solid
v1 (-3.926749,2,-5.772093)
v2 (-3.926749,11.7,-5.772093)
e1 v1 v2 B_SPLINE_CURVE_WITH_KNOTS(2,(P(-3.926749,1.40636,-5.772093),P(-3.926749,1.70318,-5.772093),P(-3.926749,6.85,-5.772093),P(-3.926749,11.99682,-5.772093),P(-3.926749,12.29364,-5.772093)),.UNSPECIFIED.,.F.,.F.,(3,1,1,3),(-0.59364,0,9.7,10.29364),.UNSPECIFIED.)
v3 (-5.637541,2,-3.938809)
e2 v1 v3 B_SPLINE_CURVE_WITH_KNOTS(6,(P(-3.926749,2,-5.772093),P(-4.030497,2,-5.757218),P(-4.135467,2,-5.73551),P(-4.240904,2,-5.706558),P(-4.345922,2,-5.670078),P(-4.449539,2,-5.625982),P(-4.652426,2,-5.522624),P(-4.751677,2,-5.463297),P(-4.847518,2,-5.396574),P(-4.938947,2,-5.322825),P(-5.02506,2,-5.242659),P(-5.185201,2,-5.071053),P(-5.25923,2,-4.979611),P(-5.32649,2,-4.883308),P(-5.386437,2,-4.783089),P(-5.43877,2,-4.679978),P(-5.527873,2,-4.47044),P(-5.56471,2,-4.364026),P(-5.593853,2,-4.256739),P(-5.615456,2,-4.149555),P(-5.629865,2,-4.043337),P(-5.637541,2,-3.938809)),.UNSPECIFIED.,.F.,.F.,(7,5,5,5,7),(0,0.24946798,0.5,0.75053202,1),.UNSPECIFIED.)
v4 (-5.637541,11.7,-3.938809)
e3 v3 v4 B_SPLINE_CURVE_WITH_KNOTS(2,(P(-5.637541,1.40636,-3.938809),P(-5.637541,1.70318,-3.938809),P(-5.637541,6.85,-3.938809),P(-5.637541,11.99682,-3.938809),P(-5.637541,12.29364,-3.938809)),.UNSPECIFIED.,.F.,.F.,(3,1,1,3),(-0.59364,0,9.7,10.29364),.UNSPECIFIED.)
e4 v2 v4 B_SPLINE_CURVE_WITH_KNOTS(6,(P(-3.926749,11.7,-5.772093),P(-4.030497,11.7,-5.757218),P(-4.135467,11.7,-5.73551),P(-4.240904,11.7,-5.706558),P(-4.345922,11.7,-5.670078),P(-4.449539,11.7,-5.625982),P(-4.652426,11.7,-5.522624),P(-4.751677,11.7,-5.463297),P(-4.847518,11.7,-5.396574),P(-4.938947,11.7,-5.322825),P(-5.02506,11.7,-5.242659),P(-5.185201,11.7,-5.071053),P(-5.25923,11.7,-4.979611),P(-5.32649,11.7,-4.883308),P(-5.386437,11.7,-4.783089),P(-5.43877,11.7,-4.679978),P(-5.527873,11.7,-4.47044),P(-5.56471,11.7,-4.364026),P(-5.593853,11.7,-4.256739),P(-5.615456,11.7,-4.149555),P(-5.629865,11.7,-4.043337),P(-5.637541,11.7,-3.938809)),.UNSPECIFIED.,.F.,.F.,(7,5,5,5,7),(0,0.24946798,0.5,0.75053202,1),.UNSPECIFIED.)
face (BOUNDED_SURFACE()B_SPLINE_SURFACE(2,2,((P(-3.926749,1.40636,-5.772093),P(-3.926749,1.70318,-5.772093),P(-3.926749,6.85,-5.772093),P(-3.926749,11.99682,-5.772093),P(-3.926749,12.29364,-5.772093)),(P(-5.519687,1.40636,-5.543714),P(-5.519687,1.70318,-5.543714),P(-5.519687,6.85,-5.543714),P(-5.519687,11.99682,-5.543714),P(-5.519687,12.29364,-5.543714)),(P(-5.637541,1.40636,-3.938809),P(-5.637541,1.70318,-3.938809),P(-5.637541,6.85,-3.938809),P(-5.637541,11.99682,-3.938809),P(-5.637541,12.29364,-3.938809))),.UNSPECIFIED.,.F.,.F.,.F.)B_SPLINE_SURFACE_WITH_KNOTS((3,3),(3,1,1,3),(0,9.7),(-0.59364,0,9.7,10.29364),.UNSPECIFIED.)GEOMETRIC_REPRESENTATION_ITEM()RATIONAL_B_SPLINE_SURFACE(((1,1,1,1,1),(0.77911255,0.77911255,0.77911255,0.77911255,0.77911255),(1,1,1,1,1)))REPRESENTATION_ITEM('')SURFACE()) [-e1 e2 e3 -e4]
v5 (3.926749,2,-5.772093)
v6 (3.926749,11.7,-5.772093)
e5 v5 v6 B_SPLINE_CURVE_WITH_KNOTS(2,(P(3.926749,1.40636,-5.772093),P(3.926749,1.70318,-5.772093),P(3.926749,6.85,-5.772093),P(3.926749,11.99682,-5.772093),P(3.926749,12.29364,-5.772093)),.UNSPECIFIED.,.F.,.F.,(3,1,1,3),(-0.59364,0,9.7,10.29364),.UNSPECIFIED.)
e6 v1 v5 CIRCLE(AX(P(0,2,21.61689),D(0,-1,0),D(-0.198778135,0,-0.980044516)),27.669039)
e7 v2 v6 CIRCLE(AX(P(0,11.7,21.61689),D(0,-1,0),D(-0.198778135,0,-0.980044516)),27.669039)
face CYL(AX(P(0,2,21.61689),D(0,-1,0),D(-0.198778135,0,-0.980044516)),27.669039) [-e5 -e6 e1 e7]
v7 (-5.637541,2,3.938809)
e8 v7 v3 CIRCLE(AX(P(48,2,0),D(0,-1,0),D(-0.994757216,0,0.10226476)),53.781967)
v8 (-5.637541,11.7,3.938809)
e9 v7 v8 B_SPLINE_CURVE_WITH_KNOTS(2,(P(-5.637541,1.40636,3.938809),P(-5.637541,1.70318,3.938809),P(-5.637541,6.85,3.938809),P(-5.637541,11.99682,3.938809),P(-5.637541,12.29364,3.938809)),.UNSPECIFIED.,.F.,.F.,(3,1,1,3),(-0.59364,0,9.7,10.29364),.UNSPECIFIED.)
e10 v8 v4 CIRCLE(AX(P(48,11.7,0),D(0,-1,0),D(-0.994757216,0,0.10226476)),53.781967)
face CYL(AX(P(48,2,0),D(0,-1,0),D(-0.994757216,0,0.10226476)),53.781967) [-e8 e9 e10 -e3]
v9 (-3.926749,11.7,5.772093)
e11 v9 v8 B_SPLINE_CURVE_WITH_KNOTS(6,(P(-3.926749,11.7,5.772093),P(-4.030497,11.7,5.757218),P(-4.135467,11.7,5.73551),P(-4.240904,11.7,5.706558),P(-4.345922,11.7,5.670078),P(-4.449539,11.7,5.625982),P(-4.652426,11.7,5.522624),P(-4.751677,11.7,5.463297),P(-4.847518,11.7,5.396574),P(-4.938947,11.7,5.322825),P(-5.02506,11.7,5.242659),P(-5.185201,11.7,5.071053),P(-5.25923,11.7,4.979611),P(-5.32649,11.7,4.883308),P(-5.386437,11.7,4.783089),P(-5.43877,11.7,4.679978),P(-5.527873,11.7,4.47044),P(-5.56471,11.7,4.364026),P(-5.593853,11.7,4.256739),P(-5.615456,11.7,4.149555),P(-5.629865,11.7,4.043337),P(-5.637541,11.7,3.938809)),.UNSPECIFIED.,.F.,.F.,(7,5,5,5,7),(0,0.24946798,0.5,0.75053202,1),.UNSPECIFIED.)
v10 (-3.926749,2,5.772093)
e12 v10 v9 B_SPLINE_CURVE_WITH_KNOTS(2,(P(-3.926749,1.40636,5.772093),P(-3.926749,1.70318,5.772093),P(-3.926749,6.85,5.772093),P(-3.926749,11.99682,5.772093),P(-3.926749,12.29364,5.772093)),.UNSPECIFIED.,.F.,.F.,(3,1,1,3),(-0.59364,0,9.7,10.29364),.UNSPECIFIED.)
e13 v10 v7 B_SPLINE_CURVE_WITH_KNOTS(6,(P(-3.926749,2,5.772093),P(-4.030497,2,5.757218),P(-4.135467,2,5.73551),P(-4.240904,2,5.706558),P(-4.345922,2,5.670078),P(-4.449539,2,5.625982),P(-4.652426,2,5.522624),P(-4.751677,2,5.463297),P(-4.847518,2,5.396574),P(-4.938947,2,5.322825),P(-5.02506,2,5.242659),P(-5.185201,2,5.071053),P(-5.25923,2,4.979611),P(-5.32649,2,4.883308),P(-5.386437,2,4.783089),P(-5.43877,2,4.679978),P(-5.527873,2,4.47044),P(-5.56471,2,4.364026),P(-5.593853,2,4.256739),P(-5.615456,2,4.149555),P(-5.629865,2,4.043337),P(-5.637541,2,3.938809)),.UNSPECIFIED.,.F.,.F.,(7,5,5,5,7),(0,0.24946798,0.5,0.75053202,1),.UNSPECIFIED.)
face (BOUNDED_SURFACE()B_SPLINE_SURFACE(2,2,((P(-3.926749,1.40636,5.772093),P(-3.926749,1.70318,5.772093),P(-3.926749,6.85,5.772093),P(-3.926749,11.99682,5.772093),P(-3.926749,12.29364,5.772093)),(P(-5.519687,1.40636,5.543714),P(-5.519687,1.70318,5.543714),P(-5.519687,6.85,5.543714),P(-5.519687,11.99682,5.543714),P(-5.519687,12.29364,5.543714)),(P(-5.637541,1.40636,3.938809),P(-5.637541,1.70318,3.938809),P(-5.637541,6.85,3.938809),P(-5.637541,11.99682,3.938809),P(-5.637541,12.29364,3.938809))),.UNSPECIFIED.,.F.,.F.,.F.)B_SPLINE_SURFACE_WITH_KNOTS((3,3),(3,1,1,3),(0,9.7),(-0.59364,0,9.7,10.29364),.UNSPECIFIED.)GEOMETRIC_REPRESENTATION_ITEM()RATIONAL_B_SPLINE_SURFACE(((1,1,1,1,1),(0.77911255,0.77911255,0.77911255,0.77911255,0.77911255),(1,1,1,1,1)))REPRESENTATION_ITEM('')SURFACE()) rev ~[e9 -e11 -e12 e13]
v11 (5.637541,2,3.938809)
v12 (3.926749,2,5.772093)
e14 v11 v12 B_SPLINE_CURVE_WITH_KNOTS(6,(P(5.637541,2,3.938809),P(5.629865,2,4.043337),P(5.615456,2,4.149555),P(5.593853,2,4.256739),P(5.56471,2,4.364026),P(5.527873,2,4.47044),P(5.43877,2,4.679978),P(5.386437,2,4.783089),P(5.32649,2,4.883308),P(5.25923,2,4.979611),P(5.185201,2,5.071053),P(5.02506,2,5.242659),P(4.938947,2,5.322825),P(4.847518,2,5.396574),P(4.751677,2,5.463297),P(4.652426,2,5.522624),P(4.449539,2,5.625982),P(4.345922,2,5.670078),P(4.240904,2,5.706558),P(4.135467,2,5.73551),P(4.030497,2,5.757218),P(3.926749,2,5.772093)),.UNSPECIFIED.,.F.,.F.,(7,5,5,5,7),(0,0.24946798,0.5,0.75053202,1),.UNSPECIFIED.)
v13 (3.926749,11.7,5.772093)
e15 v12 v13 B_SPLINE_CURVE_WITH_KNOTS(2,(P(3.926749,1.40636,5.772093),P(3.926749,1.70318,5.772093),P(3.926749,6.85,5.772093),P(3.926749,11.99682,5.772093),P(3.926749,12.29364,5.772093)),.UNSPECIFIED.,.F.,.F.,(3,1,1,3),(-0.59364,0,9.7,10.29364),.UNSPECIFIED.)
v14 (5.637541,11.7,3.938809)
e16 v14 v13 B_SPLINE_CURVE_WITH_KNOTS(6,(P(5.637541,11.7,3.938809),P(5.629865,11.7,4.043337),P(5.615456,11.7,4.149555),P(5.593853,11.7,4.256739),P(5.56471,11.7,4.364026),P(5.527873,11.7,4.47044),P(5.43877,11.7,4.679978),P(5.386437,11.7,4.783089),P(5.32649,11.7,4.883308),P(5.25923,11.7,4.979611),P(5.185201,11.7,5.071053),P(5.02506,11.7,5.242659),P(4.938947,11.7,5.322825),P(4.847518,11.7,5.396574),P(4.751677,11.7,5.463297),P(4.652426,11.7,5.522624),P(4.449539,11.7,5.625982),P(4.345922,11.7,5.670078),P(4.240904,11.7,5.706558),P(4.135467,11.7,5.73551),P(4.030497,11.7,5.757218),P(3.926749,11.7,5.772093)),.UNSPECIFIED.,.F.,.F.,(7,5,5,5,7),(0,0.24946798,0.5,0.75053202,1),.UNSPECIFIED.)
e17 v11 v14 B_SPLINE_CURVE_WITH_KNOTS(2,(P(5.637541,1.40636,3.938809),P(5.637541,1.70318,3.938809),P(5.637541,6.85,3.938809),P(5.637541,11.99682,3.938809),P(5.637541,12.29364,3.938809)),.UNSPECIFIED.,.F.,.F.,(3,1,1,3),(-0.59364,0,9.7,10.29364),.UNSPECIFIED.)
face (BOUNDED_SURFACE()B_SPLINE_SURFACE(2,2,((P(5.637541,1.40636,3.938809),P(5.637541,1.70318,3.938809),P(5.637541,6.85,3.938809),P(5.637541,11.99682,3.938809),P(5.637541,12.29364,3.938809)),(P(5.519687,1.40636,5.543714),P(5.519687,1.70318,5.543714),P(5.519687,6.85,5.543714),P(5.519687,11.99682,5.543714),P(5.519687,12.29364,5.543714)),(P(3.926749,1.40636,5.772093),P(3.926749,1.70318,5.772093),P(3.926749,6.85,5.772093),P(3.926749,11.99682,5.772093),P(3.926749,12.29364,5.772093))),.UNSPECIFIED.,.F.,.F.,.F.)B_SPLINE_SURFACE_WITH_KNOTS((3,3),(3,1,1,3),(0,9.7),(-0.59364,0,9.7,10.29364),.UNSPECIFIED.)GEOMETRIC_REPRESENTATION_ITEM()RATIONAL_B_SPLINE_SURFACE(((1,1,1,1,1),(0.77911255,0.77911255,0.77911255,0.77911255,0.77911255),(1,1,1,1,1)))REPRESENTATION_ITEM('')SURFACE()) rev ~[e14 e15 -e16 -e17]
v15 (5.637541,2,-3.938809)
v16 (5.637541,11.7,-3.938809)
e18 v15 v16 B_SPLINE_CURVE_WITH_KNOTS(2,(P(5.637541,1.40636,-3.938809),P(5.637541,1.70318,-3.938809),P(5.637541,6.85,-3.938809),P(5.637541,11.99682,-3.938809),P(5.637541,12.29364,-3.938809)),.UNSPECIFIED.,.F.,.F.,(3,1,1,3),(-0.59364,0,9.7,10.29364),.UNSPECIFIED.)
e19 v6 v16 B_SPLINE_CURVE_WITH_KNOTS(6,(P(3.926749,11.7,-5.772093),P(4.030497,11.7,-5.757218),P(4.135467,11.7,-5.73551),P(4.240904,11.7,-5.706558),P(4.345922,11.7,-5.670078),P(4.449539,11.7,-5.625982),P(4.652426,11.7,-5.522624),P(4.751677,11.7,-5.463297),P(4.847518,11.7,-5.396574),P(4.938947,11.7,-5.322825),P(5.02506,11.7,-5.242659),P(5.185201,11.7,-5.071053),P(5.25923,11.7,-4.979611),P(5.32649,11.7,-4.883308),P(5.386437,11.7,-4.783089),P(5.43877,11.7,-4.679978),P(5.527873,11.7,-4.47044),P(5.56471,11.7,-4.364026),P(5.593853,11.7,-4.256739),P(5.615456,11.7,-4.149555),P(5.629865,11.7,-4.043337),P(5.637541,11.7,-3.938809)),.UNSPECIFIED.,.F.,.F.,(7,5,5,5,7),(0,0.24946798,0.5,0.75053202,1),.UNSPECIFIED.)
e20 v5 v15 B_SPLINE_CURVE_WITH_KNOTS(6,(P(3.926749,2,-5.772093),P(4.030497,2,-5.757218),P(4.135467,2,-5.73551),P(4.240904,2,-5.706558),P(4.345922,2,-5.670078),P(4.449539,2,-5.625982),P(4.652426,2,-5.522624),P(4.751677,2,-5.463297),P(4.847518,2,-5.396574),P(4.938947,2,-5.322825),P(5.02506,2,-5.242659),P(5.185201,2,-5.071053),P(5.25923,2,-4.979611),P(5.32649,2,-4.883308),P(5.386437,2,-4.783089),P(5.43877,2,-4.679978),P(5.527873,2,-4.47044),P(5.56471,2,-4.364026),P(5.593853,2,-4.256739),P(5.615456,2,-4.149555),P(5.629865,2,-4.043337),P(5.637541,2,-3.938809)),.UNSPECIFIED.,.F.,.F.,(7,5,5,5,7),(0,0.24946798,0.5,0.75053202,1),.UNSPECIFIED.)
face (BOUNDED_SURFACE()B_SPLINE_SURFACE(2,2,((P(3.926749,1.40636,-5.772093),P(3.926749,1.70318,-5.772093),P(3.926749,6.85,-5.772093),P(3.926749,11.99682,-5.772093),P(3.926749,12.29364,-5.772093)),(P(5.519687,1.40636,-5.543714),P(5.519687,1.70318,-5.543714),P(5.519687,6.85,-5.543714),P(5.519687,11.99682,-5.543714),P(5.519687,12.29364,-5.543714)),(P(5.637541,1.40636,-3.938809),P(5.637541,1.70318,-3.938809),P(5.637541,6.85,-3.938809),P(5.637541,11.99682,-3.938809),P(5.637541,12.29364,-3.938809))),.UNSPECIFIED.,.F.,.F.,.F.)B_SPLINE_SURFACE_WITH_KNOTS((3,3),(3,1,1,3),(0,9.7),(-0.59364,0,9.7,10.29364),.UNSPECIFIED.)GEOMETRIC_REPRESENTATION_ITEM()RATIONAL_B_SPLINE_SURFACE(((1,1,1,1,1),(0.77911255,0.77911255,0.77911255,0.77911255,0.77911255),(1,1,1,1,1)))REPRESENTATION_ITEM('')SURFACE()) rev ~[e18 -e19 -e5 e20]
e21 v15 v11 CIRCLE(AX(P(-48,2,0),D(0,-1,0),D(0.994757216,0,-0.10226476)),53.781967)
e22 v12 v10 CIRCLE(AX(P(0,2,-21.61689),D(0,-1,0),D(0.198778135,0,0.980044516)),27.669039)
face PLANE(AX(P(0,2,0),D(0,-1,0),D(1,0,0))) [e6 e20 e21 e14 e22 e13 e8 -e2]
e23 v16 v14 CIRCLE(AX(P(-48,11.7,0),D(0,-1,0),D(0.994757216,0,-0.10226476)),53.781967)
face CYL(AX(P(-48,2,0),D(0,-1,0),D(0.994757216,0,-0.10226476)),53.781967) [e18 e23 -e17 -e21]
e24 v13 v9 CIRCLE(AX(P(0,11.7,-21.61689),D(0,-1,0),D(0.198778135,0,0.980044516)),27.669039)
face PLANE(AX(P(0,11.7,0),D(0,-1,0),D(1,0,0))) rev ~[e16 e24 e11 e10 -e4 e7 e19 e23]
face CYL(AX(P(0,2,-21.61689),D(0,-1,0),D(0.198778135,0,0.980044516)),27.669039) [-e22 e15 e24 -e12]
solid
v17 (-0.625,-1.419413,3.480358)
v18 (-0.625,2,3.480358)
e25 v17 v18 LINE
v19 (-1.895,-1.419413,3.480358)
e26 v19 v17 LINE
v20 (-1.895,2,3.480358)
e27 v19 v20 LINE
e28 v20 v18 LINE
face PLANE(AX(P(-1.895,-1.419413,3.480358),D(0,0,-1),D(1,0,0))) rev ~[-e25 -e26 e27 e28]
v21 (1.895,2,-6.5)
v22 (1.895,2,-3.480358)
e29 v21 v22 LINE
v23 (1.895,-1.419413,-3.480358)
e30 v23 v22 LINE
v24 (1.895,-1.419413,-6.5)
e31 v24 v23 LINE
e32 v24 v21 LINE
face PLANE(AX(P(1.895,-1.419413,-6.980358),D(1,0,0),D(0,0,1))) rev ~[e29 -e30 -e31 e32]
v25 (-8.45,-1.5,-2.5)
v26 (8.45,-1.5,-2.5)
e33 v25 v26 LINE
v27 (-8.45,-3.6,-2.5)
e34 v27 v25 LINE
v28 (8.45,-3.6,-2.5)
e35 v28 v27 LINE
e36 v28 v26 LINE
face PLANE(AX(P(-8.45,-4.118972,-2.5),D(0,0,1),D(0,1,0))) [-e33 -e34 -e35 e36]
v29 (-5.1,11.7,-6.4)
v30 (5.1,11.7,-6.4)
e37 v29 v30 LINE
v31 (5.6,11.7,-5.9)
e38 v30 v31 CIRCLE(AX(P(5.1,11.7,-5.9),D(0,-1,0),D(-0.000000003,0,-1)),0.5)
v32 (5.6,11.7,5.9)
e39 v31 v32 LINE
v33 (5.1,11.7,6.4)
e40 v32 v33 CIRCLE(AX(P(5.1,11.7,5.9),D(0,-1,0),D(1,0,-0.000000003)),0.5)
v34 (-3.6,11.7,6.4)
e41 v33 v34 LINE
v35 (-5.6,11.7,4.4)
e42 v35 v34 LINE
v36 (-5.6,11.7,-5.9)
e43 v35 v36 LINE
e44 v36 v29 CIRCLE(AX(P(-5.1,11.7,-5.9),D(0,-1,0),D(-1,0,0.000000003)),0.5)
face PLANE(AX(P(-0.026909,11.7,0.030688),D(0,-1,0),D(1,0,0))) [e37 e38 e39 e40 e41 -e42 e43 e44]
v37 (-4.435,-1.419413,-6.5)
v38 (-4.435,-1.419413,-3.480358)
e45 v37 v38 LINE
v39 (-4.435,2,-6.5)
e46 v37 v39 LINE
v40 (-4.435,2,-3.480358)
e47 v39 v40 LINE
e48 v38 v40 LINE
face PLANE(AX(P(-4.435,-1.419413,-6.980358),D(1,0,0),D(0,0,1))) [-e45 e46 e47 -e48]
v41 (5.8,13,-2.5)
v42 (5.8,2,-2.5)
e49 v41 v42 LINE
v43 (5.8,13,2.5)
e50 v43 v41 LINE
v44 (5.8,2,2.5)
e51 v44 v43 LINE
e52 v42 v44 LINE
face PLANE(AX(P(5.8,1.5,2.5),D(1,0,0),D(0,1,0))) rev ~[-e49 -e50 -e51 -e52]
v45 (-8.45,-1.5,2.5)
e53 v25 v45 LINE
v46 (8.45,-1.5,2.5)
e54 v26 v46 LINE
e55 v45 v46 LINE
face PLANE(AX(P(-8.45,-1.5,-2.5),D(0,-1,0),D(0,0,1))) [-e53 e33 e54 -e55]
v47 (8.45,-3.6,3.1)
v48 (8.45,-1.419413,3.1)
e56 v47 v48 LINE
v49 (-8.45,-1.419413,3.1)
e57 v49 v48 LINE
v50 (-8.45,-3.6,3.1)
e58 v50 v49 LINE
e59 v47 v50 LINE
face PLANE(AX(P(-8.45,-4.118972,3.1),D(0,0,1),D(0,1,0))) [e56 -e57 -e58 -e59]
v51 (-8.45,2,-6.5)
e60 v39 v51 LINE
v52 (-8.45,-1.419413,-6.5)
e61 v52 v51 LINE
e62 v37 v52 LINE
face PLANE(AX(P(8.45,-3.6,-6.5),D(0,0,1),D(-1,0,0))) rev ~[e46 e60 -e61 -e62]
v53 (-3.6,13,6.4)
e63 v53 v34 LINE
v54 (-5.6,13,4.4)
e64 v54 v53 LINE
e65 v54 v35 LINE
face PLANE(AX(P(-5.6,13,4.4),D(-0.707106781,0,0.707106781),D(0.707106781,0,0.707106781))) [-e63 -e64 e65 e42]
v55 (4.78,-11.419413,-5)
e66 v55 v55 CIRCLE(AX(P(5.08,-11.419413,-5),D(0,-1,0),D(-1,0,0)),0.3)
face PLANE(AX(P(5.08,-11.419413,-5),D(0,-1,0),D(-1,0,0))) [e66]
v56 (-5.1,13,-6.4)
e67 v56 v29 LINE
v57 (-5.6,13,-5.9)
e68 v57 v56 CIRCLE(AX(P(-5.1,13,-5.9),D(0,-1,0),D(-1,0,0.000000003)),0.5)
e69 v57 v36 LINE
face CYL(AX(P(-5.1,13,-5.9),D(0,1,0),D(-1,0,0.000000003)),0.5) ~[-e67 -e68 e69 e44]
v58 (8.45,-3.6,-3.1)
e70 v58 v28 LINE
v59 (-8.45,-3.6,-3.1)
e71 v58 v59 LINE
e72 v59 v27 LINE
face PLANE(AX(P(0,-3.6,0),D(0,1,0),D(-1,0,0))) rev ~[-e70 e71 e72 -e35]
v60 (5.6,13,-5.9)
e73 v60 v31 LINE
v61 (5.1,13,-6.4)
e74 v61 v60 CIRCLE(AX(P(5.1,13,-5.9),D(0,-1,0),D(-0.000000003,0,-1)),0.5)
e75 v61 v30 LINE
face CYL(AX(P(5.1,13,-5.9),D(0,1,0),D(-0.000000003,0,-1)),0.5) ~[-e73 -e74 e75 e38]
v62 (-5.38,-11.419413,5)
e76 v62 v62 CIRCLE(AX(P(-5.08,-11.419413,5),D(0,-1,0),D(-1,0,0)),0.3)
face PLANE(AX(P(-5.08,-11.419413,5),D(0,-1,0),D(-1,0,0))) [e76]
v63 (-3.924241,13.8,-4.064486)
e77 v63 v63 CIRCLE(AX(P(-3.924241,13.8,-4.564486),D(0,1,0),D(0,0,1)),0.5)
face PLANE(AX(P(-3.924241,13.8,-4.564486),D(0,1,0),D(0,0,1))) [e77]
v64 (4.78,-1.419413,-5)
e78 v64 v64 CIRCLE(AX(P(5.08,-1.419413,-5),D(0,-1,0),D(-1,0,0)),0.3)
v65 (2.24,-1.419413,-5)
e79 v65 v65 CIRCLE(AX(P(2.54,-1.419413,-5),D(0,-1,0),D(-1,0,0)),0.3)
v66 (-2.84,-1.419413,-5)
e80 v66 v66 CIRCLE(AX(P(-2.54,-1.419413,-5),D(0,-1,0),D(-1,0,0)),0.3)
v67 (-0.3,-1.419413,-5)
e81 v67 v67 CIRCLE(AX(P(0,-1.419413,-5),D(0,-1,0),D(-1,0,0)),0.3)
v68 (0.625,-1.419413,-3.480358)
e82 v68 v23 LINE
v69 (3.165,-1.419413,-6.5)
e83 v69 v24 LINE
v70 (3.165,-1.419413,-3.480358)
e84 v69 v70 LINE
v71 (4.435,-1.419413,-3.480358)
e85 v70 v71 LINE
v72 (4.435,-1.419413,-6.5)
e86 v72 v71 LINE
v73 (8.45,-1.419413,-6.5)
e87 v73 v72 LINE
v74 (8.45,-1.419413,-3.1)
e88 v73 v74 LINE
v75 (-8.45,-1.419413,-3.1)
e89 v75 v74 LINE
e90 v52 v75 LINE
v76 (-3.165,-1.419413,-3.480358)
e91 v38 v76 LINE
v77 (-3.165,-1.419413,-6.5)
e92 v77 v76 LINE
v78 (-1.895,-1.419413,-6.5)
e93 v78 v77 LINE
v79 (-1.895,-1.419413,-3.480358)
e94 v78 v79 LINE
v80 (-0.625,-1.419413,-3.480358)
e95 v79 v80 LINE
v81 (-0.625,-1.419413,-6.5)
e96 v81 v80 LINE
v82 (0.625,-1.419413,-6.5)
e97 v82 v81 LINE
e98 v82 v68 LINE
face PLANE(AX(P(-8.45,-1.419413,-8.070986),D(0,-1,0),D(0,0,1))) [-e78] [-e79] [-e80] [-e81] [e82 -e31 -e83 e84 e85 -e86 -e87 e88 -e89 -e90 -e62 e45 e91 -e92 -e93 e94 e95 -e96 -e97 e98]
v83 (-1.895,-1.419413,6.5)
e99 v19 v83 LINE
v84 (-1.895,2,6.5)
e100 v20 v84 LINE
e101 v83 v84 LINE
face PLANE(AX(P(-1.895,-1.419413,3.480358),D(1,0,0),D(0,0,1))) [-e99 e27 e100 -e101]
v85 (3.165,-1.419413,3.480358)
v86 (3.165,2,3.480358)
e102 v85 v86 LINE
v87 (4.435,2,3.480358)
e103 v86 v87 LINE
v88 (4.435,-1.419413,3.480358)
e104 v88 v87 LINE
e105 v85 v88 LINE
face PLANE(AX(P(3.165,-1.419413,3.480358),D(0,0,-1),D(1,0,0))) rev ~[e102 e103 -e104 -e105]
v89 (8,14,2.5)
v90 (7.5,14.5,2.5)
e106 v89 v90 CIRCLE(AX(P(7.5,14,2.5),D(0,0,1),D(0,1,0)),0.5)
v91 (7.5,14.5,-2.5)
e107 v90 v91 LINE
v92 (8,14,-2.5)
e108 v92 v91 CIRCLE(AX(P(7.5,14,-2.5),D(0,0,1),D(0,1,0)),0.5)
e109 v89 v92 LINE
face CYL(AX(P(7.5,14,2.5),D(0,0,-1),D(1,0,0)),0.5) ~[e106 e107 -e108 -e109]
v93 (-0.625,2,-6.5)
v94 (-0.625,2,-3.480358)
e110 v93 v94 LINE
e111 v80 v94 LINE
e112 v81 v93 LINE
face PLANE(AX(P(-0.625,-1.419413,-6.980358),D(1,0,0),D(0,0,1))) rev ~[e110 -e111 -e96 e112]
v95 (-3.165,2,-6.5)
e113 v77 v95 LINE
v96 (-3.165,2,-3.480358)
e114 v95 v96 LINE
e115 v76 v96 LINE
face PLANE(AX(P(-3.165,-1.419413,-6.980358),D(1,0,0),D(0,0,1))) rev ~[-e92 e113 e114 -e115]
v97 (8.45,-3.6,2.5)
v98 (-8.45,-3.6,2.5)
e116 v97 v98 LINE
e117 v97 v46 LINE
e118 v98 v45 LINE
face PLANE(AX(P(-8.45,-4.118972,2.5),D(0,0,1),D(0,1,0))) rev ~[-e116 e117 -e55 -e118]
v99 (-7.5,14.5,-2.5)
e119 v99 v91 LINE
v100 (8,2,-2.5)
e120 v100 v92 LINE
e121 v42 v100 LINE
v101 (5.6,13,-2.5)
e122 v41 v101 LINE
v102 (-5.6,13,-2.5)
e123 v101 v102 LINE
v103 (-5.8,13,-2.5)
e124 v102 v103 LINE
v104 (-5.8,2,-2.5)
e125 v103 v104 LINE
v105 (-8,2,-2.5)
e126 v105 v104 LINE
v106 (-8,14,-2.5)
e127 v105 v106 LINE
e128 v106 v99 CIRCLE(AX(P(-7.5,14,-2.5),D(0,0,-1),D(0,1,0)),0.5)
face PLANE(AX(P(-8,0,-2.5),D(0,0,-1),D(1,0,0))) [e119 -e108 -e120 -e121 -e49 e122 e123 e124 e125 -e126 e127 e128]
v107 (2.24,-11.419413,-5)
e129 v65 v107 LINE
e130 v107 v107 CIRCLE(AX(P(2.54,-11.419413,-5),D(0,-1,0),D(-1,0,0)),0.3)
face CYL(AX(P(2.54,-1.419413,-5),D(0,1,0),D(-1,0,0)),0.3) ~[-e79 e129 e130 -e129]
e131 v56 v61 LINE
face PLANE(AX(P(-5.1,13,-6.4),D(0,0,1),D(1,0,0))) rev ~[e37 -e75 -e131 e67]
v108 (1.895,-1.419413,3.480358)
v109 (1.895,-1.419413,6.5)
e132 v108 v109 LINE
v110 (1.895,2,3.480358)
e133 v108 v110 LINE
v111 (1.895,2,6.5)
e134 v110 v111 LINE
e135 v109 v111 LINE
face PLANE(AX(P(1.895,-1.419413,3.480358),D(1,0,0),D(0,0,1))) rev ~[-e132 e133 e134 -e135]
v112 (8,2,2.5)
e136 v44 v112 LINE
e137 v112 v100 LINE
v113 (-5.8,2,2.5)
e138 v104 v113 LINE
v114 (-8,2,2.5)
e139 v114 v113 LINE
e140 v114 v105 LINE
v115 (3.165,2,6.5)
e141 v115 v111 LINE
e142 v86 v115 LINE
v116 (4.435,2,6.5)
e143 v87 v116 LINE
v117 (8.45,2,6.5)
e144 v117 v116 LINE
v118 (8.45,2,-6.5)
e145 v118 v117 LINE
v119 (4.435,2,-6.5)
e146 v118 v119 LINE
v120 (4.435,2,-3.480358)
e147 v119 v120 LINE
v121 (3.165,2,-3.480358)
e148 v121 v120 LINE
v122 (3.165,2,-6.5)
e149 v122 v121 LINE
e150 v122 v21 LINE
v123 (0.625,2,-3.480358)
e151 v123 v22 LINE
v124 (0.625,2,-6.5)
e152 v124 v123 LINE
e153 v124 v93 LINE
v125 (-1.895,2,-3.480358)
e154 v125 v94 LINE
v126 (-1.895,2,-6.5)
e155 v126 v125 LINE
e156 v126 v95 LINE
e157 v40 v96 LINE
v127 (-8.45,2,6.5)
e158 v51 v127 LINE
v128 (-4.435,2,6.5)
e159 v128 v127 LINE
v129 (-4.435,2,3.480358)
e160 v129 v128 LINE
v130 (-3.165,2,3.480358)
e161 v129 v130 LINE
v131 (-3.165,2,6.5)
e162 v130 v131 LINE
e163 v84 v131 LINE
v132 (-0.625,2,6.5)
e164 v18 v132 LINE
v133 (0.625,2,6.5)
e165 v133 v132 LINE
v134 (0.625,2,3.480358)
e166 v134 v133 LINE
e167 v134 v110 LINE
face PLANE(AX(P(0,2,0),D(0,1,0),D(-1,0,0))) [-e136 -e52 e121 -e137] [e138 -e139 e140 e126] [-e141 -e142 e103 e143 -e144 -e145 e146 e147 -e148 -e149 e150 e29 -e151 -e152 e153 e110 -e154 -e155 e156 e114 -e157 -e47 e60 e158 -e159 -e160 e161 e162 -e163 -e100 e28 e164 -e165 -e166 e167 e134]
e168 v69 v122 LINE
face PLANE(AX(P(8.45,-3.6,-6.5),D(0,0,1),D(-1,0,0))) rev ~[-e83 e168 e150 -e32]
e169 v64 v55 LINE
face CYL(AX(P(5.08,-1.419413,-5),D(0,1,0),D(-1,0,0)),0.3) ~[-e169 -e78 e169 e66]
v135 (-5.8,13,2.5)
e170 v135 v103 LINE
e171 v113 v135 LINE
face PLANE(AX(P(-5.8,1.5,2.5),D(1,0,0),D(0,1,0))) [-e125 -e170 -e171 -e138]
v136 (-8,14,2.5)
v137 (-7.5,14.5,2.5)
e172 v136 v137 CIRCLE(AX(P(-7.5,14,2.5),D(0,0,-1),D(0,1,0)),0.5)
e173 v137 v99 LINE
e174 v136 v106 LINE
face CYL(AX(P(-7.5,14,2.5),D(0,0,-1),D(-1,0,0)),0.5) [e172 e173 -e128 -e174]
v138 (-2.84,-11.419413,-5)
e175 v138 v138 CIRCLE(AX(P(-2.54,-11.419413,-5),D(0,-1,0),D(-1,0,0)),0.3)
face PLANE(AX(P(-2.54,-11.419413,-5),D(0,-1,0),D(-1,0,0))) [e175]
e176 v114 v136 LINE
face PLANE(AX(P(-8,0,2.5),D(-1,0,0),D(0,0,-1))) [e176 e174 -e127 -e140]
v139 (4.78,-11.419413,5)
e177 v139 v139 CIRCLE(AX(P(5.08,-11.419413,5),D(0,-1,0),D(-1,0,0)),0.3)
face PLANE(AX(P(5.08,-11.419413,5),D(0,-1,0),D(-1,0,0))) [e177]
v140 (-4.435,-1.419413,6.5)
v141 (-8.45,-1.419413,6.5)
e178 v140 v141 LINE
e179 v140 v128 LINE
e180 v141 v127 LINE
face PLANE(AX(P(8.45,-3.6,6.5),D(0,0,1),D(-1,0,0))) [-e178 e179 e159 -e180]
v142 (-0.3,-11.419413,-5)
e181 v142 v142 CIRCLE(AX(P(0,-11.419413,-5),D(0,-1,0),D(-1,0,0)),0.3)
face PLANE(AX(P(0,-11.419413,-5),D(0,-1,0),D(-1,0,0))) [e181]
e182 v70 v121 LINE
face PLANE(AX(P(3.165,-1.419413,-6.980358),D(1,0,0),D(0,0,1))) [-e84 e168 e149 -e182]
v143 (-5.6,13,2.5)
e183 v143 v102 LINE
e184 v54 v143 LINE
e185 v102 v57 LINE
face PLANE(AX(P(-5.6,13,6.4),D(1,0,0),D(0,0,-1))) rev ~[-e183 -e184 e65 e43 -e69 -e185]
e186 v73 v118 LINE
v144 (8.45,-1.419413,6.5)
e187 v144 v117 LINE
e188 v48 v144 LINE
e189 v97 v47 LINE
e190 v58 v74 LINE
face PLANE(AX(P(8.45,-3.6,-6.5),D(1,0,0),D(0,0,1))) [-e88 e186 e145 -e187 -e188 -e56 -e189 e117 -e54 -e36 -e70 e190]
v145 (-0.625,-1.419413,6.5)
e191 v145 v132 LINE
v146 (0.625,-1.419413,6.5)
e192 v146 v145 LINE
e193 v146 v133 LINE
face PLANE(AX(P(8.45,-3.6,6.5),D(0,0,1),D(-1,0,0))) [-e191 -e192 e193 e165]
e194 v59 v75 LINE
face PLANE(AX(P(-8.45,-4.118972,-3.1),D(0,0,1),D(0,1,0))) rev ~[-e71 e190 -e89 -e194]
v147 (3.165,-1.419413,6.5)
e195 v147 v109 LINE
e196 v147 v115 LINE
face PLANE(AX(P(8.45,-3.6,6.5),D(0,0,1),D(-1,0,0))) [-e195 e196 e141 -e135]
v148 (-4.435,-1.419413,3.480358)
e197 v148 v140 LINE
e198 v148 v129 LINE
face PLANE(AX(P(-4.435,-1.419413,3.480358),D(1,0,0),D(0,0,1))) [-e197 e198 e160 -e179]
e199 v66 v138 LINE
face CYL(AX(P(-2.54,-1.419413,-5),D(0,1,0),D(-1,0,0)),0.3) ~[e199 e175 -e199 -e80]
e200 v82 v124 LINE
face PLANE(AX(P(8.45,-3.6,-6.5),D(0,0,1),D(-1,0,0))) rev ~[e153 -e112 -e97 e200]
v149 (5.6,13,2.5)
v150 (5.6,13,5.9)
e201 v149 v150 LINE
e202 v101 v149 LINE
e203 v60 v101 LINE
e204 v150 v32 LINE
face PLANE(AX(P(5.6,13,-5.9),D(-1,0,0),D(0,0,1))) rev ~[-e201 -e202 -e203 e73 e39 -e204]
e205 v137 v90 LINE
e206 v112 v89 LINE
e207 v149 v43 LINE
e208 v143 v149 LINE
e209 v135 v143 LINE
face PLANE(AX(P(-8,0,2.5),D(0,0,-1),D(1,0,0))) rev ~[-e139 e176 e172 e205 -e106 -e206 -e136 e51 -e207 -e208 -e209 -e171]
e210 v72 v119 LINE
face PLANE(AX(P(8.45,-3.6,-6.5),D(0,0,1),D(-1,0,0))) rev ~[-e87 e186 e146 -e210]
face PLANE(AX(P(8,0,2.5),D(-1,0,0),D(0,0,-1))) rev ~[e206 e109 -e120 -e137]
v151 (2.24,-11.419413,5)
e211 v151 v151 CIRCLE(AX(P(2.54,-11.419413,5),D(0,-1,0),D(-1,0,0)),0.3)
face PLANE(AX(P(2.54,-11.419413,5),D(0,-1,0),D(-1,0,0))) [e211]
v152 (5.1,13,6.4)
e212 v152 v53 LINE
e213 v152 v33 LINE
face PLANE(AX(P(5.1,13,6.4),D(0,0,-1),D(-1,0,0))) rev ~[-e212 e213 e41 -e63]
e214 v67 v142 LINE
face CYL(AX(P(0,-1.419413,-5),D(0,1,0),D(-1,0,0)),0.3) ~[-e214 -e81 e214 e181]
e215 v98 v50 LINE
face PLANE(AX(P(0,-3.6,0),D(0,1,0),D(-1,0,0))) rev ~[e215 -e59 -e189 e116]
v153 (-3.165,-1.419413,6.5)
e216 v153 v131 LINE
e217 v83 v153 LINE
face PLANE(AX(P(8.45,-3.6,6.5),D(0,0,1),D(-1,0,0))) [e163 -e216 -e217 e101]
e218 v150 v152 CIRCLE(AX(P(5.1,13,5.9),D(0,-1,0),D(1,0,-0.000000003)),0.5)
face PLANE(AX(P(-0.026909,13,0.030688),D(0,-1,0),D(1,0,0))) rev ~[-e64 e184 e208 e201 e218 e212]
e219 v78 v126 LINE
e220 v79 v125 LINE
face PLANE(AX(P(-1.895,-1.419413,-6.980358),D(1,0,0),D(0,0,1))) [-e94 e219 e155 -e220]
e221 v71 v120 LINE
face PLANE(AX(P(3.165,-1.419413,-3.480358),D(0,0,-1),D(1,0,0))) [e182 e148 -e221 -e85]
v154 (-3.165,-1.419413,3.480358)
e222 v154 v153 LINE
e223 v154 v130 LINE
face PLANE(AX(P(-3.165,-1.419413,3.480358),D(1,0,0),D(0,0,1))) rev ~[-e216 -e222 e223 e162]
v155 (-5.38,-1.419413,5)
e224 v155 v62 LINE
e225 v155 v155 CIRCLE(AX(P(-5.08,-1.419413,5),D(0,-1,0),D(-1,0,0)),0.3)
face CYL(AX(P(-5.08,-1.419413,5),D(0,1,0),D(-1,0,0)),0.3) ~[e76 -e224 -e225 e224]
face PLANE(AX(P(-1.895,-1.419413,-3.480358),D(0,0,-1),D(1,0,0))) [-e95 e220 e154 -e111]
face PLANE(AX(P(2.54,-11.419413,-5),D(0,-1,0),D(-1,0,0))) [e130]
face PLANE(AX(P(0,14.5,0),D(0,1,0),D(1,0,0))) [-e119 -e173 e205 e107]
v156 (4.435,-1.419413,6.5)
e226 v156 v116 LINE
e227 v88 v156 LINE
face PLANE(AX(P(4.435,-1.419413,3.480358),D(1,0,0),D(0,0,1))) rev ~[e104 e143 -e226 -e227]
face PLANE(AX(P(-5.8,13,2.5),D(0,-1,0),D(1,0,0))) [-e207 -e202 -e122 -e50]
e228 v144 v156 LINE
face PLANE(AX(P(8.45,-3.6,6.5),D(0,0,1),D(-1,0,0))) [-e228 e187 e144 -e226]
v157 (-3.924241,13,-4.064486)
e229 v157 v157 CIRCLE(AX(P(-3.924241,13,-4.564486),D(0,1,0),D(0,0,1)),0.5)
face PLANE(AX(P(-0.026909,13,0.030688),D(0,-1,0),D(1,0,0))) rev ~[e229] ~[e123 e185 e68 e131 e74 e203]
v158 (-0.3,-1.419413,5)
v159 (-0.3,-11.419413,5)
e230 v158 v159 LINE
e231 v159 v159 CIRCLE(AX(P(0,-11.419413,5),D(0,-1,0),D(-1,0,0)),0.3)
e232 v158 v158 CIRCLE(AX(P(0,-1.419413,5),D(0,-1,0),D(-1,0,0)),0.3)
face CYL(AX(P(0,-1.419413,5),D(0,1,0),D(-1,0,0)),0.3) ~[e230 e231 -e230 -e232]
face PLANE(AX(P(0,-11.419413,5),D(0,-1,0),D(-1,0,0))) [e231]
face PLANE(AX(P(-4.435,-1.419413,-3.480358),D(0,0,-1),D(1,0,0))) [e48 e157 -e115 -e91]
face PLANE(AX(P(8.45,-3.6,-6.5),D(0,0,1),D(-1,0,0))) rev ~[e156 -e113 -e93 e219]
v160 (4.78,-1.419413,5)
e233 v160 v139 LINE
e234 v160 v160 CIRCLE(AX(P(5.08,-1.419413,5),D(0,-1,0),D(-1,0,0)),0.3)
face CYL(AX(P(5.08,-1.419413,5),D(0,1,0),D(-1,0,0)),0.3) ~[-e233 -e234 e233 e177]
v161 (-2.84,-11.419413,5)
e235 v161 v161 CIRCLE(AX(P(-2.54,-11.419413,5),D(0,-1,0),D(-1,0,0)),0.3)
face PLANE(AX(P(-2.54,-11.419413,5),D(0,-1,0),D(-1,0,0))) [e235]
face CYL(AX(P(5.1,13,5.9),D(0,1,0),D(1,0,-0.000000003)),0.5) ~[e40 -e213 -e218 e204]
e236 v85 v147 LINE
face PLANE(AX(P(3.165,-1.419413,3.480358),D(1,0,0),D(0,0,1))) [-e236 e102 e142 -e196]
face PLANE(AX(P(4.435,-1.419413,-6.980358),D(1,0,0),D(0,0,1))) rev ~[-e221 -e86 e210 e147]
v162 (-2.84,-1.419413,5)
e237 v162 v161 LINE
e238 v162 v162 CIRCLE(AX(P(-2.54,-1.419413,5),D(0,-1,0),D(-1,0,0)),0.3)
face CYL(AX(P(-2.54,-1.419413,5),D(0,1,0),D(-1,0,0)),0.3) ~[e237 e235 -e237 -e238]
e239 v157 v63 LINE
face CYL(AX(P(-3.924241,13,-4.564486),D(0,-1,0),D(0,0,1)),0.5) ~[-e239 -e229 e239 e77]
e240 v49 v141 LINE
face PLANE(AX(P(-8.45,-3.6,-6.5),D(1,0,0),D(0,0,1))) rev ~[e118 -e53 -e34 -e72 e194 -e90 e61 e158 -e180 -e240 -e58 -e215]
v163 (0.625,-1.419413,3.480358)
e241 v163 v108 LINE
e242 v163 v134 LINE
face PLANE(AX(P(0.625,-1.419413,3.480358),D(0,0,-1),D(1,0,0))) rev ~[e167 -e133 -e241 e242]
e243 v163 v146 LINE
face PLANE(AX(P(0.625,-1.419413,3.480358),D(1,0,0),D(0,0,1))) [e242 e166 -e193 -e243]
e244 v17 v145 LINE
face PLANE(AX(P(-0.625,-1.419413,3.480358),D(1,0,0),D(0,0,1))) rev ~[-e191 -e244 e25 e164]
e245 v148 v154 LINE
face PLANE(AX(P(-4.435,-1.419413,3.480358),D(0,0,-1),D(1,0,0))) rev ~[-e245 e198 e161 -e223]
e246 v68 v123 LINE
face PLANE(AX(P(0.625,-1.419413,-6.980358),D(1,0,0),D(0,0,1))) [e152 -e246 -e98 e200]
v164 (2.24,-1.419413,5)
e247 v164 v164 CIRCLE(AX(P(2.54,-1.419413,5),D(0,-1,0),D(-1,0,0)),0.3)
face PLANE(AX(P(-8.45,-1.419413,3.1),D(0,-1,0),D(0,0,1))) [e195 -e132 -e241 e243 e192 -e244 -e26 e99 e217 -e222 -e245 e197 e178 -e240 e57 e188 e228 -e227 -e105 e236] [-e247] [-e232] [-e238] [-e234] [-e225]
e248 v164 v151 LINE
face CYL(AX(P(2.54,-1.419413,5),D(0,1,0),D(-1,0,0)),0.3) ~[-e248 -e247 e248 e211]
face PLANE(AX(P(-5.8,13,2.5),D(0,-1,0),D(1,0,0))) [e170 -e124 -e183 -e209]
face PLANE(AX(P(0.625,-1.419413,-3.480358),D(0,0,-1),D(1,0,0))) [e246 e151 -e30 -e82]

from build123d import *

# Parameters (mm, degrees)
SKETCH_2_W              = 16
SKETCH_2_H              = 5
EXTRUDE_1_DEPTH         = 14.5
SKETCH_3_W              = 11.6
SKETCH_3_H              = 11.5
CUT_EXTRUDE_2_DEPTH     = 18.298843892
EXTRUDE_3_DEPTH         = 1.3
EXTRUDE_7_DEPTH         = 0.5
EXTRUDE_7_DEPTH_BACK    = 5.1
SKETCH_6_W              = 16.9
SKETCH_6_H              = 13
CORTAR_EXTRUIR1_REACH   = 25.197
CROQUIS1_W              = 5
CROQUIS1_H              = 2.618972118
CROQUIS1_W_2            = 4.180401644
CROQUIS1_H_2            = 2.699558885
CROQUIS1_W_3            = 4.970986267
CUT_EXTRUDE_10_REACH    = 21.728
EXTRUDE_19_DEPTH        = 9.7
FILLET_1_R              = 2
REDONDEO1_R             = 0.5
SKETCH_19_R             = 0.5
EXTRUDE_20_DEPTH        = 0.8
CROQUIS2_W              = 1.27
CROQUIS2_H              = 3.5
CORTAR_EXTRUIR2_DEPTH   = 3.419413
CROQUIS3_R              = 0.3
SALIENTE_EXTRUIR1_DEPTH = 10


with BuildPart() as part:
    # Эскиз2 → Вытянуть1 (new body)
    with BuildSketch(Plane(origin=(0, 0, 0), x_dir=(1, 0, 0), z_dir=(0, 1, 0))):
        Rectangle(SKETCH_2_W, SKETCH_2_H)
    extrude(amount=EXTRUDE_1_DEPTH)

    # Эскиз3 → Вытянуть2 (cut, through all)
    with BuildSketch(Plane.XY.offset(2.5)):
        with Locations((0, 7.25)):
            Rectangle(SKETCH_3_W, SKETCH_3_H)
    extrude(amount=-CUT_EXTRUDE_2_DEPTH, mode=Mode.SUBTRACT)

    # Эскиз4 → Вытянуть3 (add)
    with BuildSketch(Plane.XZ.offset(-13)):
        with BuildLine():
            Line((-5.1, -6.4), (5.1, -6.4))
            ThreePointArc((5.1, -6.4), (5.453553391, -6.253553391), (5.6, -5.9))
            Line((5.6, -5.9), (5.6, 5.9))
            ThreePointArc((5.6, 5.9), (5.453553391, 6.253553391), (5.1, 6.4))
            Line((5.1, 6.4), (-5.6, 6.4))
            Line((-5.6, 6.4), (-5.6, -5.9))
            ThreePointArc((-5.6, -5.9), (-5.453553391, -6.253553391), (-5.1, -6.4))
        make_face()
    extrude(amount=EXTRUDE_3_DEPTH)

    # Эскиз6 → Вытянуть7 (add, two sides: drawn at the far end of the back side and taken through both)
    with BuildSketch(Plane(origin=(0, 1.5, 0), x_dir=(-1, 0, 0), z_dir=(0, 1, 0)).offset(-EXTRUDE_7_DEPTH_BACK)):
        Rectangle(SKETCH_6_W, SKETCH_6_H)
    extrude(amount=EXTRUDE_7_DEPTH + EXTRUDE_7_DEPTH_BACK)

    # Croquis1 → Cortar-Extruir1 (cut, up to next)
    with BuildSketch(Plane.ZY.offset(8.45), mode=Mode.PRIVATE) as cortar_extruir1_sk1:
        with Locations((0, -2.809486059)):
            Rectangle(CROQUIS1_W, CROQUIS1_H)
    cortar_extruir1_tool1 = extrude(cortar_extruir1_sk1.sketch, amount=-CORTAR_EXTRUIR1_REACH, mode=Mode.PRIVATE) & part.part
    # Croquis1 → Cortar-Extruir1 (cut, up to next)
    with BuildSketch(Plane.ZY.offset(8.45), mode=Mode.PRIVATE) as cortar_extruir1_sk2:
        with Locations((5.190200822, -2.769192676)):
            Rectangle(CROQUIS1_W_2, CROQUIS1_H_2)
    cortar_extruir1_tool2 = extrude(cortar_extruir1_sk2.sketch, amount=-CORTAR_EXTRUIR1_REACH, mode=Mode.PRIVATE) & part.part
    # Croquis1 → Cortar-Extruir1 (cut, up to next)
    with BuildSketch(Plane.ZY.offset(8.45), mode=Mode.PRIVATE) as cortar_extruir1_sk3:
        with Locations((-5.585493133, -2.769192676)):
            Rectangle(CROQUIS1_W_3, CROQUIS1_H_2)
    cortar_extruir1_tool3 = extrude(cortar_extruir1_sk3.sketch, amount=-CORTAR_EXTRUIR1_REACH, mode=Mode.PRIVATE) & part.part
    add(cortar_extruir1_tool1.solids().sort_by_distance((-8.45, -2.809486, 0))[0], mode=Mode.SUBTRACT)
    add(cortar_extruir1_tool2.solids().sort_by_distance((-8.45, -2.769193, 5.190201))[0], mode=Mode.SUBTRACT)
    add(cortar_extruir1_tool3.solids().sort_by_distance((-8.45, -2.769193, -5.585493))[0], mode=Mode.SUBTRACT)

    # Эскиз11 → Вытянуть10 (cut, up to next)
    with BuildSketch(Plane(origin=(0, 13, 0), x_dir=(-1, 0, 0), z_dir=(0, 1, 0)), mode=Mode.PRIVATE) as cut_extrude_10_sk1:
        Polygon((5.6, 4.4), (3.6, 6.4), (5.6, 6.4), align=None)
    cut_extrude_10_tool1 = extrude(cut_extrude_10_sk1.sketch, amount=-CUT_EXTRUDE_10_REACH, mode=Mode.PRIVATE) & part.part
    add(cut_extrude_10_tool1.solids().sort_by_distance((-4.933333, 13, 5.733333))[0], mode=Mode.SUBTRACT)

    # Redondeo1
    redondeo1_edges = [part.edges().sort_by_distance(p)[0] for p in [
        (-8, 14.5, 0),
        (8, 14.5, 0),
    ]]
    fillet(redondeo1_edges, radius=REDONDEO1_R)

    # Эскиз19 → Вытянуть20 (add)
    with BuildSketch(Plane(origin=(0, 13, 0), x_dir=(-1, 0, 0), z_dir=(0, 1, 0))):
        with Locations(Location((3.924240872, -4.564485884, 0), (0, 0, 90))):
            Circle(SKETCH_19_R)
    extrude(amount=EXTRUDE_20_DEPTH)

    # Croquis2 → Cortar-Extruir2 (cut)
    with BuildSketch(Plane.XZ.offset(1.419413233)):
        with Locations((1.26, -5.230358176)):
            Rectangle(CROQUIS2_W, CROQUIS2_H)
        with Locations((-1.26, -5.230358176)):
            Rectangle(CROQUIS2_W, CROQUIS2_H)
        with Locations((-3.8, -5.230358176)):
            Rectangle(CROQUIS2_W, CROQUIS2_H)
        with Locations((3.8, -5.230358176)):
            Rectangle(CROQUIS2_W, CROQUIS2_H)
        with Locations((3.8, 5.230358176)):
            Rectangle(CROQUIS2_W, CROQUIS2_H)
        with Locations((1.26, 5.230358176)):
            Rectangle(CROQUIS2_W, CROQUIS2_H)
        with Locations((-1.26, 5.230358176)):
            Rectangle(CROQUIS2_W, CROQUIS2_H)
        with Locations((-3.8, 5.230358176)):
            Rectangle(CROQUIS2_W, CROQUIS2_H)
    extrude(amount=-CORTAR_EXTRUIR2_DEPTH, mode=Mode.SUBTRACT)

    # Croquis3 → Saliente-Extruir1 (add)
    with BuildSketch(Plane.XZ.offset(1.419413233)):
        with Locations(Location((0, 5, 0), (0, 0, 180))):
            Circle(CROQUIS3_R)
        with Locations(Location((2.54, 5, 0), (0, 0, 180))):
            Circle(CROQUIS3_R)
        with Locations(Location((5.08, 5, 0), (0, 0, 180))):
            Circle(CROQUIS3_R)
        with Locations(Location((-2.54, 5, 0), (0, 0, 180))):
            Circle(CROQUIS3_R)
        with Locations(Location((-5.08, 5, 0), (0, 0, 180))):
            Circle(CROQUIS3_R)
        with Locations(Location((5.08, -5, 0), (0, 0, 180))):
            Circle(CROQUIS3_R)
        with Locations(Location((2.54, -5, 0), (0, 0, 180))):
            Circle(CROQUIS3_R)
        with Locations(Location((0, -5, 0), (0, 0, 180))):
            Circle(CROQUIS3_R)
        with Locations(Location((-2.54, -5, 0), (0, 0, 180))):
            Circle(CROQUIS3_R)
    extrude(amount=SALIENTE_EXTRUIR1_DEPTH)


with BuildPart() as body_2:
    # Эскиз18 → Вытянуть19 (new body)
    with BuildSketch(Plane(origin=(0, 2, 0), x_dir=(-1, 0, 0), z_dir=(0, 1, 0))):
        with BuildLine():
            ThreePointArc((5.5, -5.5), (0, -6.052149071), (-5.5, -5.5))
            ThreePointArc((-5.5, -5.5), (-5.781967238, 0), (-5.5, 5.5))
            ThreePointArc((-5.5, 5.5), (0, 6.052149071), (5.5, 5.5))
            ThreePointArc((5.5, 5.5), (5.781967238, 0), (5.5, -5.5))
        make_face()
    extrude(amount=EXTRUDE_19_DEPTH)

    # Скругление1
    fillet_1_edges = [body_2.edges().sort_by_distance(p)[0] for p in [
        (-5.5, 6.85, 5.5),
        (-5.5, 6.85, -5.5),
        (5.5, 6.85, -5.5),
        (5.5, 6.85, 5.5),
    ]]
    fillet(fillet_1_edges, radius=FILLET_1_R)


solid = Compound([part.part, body_2.part])
